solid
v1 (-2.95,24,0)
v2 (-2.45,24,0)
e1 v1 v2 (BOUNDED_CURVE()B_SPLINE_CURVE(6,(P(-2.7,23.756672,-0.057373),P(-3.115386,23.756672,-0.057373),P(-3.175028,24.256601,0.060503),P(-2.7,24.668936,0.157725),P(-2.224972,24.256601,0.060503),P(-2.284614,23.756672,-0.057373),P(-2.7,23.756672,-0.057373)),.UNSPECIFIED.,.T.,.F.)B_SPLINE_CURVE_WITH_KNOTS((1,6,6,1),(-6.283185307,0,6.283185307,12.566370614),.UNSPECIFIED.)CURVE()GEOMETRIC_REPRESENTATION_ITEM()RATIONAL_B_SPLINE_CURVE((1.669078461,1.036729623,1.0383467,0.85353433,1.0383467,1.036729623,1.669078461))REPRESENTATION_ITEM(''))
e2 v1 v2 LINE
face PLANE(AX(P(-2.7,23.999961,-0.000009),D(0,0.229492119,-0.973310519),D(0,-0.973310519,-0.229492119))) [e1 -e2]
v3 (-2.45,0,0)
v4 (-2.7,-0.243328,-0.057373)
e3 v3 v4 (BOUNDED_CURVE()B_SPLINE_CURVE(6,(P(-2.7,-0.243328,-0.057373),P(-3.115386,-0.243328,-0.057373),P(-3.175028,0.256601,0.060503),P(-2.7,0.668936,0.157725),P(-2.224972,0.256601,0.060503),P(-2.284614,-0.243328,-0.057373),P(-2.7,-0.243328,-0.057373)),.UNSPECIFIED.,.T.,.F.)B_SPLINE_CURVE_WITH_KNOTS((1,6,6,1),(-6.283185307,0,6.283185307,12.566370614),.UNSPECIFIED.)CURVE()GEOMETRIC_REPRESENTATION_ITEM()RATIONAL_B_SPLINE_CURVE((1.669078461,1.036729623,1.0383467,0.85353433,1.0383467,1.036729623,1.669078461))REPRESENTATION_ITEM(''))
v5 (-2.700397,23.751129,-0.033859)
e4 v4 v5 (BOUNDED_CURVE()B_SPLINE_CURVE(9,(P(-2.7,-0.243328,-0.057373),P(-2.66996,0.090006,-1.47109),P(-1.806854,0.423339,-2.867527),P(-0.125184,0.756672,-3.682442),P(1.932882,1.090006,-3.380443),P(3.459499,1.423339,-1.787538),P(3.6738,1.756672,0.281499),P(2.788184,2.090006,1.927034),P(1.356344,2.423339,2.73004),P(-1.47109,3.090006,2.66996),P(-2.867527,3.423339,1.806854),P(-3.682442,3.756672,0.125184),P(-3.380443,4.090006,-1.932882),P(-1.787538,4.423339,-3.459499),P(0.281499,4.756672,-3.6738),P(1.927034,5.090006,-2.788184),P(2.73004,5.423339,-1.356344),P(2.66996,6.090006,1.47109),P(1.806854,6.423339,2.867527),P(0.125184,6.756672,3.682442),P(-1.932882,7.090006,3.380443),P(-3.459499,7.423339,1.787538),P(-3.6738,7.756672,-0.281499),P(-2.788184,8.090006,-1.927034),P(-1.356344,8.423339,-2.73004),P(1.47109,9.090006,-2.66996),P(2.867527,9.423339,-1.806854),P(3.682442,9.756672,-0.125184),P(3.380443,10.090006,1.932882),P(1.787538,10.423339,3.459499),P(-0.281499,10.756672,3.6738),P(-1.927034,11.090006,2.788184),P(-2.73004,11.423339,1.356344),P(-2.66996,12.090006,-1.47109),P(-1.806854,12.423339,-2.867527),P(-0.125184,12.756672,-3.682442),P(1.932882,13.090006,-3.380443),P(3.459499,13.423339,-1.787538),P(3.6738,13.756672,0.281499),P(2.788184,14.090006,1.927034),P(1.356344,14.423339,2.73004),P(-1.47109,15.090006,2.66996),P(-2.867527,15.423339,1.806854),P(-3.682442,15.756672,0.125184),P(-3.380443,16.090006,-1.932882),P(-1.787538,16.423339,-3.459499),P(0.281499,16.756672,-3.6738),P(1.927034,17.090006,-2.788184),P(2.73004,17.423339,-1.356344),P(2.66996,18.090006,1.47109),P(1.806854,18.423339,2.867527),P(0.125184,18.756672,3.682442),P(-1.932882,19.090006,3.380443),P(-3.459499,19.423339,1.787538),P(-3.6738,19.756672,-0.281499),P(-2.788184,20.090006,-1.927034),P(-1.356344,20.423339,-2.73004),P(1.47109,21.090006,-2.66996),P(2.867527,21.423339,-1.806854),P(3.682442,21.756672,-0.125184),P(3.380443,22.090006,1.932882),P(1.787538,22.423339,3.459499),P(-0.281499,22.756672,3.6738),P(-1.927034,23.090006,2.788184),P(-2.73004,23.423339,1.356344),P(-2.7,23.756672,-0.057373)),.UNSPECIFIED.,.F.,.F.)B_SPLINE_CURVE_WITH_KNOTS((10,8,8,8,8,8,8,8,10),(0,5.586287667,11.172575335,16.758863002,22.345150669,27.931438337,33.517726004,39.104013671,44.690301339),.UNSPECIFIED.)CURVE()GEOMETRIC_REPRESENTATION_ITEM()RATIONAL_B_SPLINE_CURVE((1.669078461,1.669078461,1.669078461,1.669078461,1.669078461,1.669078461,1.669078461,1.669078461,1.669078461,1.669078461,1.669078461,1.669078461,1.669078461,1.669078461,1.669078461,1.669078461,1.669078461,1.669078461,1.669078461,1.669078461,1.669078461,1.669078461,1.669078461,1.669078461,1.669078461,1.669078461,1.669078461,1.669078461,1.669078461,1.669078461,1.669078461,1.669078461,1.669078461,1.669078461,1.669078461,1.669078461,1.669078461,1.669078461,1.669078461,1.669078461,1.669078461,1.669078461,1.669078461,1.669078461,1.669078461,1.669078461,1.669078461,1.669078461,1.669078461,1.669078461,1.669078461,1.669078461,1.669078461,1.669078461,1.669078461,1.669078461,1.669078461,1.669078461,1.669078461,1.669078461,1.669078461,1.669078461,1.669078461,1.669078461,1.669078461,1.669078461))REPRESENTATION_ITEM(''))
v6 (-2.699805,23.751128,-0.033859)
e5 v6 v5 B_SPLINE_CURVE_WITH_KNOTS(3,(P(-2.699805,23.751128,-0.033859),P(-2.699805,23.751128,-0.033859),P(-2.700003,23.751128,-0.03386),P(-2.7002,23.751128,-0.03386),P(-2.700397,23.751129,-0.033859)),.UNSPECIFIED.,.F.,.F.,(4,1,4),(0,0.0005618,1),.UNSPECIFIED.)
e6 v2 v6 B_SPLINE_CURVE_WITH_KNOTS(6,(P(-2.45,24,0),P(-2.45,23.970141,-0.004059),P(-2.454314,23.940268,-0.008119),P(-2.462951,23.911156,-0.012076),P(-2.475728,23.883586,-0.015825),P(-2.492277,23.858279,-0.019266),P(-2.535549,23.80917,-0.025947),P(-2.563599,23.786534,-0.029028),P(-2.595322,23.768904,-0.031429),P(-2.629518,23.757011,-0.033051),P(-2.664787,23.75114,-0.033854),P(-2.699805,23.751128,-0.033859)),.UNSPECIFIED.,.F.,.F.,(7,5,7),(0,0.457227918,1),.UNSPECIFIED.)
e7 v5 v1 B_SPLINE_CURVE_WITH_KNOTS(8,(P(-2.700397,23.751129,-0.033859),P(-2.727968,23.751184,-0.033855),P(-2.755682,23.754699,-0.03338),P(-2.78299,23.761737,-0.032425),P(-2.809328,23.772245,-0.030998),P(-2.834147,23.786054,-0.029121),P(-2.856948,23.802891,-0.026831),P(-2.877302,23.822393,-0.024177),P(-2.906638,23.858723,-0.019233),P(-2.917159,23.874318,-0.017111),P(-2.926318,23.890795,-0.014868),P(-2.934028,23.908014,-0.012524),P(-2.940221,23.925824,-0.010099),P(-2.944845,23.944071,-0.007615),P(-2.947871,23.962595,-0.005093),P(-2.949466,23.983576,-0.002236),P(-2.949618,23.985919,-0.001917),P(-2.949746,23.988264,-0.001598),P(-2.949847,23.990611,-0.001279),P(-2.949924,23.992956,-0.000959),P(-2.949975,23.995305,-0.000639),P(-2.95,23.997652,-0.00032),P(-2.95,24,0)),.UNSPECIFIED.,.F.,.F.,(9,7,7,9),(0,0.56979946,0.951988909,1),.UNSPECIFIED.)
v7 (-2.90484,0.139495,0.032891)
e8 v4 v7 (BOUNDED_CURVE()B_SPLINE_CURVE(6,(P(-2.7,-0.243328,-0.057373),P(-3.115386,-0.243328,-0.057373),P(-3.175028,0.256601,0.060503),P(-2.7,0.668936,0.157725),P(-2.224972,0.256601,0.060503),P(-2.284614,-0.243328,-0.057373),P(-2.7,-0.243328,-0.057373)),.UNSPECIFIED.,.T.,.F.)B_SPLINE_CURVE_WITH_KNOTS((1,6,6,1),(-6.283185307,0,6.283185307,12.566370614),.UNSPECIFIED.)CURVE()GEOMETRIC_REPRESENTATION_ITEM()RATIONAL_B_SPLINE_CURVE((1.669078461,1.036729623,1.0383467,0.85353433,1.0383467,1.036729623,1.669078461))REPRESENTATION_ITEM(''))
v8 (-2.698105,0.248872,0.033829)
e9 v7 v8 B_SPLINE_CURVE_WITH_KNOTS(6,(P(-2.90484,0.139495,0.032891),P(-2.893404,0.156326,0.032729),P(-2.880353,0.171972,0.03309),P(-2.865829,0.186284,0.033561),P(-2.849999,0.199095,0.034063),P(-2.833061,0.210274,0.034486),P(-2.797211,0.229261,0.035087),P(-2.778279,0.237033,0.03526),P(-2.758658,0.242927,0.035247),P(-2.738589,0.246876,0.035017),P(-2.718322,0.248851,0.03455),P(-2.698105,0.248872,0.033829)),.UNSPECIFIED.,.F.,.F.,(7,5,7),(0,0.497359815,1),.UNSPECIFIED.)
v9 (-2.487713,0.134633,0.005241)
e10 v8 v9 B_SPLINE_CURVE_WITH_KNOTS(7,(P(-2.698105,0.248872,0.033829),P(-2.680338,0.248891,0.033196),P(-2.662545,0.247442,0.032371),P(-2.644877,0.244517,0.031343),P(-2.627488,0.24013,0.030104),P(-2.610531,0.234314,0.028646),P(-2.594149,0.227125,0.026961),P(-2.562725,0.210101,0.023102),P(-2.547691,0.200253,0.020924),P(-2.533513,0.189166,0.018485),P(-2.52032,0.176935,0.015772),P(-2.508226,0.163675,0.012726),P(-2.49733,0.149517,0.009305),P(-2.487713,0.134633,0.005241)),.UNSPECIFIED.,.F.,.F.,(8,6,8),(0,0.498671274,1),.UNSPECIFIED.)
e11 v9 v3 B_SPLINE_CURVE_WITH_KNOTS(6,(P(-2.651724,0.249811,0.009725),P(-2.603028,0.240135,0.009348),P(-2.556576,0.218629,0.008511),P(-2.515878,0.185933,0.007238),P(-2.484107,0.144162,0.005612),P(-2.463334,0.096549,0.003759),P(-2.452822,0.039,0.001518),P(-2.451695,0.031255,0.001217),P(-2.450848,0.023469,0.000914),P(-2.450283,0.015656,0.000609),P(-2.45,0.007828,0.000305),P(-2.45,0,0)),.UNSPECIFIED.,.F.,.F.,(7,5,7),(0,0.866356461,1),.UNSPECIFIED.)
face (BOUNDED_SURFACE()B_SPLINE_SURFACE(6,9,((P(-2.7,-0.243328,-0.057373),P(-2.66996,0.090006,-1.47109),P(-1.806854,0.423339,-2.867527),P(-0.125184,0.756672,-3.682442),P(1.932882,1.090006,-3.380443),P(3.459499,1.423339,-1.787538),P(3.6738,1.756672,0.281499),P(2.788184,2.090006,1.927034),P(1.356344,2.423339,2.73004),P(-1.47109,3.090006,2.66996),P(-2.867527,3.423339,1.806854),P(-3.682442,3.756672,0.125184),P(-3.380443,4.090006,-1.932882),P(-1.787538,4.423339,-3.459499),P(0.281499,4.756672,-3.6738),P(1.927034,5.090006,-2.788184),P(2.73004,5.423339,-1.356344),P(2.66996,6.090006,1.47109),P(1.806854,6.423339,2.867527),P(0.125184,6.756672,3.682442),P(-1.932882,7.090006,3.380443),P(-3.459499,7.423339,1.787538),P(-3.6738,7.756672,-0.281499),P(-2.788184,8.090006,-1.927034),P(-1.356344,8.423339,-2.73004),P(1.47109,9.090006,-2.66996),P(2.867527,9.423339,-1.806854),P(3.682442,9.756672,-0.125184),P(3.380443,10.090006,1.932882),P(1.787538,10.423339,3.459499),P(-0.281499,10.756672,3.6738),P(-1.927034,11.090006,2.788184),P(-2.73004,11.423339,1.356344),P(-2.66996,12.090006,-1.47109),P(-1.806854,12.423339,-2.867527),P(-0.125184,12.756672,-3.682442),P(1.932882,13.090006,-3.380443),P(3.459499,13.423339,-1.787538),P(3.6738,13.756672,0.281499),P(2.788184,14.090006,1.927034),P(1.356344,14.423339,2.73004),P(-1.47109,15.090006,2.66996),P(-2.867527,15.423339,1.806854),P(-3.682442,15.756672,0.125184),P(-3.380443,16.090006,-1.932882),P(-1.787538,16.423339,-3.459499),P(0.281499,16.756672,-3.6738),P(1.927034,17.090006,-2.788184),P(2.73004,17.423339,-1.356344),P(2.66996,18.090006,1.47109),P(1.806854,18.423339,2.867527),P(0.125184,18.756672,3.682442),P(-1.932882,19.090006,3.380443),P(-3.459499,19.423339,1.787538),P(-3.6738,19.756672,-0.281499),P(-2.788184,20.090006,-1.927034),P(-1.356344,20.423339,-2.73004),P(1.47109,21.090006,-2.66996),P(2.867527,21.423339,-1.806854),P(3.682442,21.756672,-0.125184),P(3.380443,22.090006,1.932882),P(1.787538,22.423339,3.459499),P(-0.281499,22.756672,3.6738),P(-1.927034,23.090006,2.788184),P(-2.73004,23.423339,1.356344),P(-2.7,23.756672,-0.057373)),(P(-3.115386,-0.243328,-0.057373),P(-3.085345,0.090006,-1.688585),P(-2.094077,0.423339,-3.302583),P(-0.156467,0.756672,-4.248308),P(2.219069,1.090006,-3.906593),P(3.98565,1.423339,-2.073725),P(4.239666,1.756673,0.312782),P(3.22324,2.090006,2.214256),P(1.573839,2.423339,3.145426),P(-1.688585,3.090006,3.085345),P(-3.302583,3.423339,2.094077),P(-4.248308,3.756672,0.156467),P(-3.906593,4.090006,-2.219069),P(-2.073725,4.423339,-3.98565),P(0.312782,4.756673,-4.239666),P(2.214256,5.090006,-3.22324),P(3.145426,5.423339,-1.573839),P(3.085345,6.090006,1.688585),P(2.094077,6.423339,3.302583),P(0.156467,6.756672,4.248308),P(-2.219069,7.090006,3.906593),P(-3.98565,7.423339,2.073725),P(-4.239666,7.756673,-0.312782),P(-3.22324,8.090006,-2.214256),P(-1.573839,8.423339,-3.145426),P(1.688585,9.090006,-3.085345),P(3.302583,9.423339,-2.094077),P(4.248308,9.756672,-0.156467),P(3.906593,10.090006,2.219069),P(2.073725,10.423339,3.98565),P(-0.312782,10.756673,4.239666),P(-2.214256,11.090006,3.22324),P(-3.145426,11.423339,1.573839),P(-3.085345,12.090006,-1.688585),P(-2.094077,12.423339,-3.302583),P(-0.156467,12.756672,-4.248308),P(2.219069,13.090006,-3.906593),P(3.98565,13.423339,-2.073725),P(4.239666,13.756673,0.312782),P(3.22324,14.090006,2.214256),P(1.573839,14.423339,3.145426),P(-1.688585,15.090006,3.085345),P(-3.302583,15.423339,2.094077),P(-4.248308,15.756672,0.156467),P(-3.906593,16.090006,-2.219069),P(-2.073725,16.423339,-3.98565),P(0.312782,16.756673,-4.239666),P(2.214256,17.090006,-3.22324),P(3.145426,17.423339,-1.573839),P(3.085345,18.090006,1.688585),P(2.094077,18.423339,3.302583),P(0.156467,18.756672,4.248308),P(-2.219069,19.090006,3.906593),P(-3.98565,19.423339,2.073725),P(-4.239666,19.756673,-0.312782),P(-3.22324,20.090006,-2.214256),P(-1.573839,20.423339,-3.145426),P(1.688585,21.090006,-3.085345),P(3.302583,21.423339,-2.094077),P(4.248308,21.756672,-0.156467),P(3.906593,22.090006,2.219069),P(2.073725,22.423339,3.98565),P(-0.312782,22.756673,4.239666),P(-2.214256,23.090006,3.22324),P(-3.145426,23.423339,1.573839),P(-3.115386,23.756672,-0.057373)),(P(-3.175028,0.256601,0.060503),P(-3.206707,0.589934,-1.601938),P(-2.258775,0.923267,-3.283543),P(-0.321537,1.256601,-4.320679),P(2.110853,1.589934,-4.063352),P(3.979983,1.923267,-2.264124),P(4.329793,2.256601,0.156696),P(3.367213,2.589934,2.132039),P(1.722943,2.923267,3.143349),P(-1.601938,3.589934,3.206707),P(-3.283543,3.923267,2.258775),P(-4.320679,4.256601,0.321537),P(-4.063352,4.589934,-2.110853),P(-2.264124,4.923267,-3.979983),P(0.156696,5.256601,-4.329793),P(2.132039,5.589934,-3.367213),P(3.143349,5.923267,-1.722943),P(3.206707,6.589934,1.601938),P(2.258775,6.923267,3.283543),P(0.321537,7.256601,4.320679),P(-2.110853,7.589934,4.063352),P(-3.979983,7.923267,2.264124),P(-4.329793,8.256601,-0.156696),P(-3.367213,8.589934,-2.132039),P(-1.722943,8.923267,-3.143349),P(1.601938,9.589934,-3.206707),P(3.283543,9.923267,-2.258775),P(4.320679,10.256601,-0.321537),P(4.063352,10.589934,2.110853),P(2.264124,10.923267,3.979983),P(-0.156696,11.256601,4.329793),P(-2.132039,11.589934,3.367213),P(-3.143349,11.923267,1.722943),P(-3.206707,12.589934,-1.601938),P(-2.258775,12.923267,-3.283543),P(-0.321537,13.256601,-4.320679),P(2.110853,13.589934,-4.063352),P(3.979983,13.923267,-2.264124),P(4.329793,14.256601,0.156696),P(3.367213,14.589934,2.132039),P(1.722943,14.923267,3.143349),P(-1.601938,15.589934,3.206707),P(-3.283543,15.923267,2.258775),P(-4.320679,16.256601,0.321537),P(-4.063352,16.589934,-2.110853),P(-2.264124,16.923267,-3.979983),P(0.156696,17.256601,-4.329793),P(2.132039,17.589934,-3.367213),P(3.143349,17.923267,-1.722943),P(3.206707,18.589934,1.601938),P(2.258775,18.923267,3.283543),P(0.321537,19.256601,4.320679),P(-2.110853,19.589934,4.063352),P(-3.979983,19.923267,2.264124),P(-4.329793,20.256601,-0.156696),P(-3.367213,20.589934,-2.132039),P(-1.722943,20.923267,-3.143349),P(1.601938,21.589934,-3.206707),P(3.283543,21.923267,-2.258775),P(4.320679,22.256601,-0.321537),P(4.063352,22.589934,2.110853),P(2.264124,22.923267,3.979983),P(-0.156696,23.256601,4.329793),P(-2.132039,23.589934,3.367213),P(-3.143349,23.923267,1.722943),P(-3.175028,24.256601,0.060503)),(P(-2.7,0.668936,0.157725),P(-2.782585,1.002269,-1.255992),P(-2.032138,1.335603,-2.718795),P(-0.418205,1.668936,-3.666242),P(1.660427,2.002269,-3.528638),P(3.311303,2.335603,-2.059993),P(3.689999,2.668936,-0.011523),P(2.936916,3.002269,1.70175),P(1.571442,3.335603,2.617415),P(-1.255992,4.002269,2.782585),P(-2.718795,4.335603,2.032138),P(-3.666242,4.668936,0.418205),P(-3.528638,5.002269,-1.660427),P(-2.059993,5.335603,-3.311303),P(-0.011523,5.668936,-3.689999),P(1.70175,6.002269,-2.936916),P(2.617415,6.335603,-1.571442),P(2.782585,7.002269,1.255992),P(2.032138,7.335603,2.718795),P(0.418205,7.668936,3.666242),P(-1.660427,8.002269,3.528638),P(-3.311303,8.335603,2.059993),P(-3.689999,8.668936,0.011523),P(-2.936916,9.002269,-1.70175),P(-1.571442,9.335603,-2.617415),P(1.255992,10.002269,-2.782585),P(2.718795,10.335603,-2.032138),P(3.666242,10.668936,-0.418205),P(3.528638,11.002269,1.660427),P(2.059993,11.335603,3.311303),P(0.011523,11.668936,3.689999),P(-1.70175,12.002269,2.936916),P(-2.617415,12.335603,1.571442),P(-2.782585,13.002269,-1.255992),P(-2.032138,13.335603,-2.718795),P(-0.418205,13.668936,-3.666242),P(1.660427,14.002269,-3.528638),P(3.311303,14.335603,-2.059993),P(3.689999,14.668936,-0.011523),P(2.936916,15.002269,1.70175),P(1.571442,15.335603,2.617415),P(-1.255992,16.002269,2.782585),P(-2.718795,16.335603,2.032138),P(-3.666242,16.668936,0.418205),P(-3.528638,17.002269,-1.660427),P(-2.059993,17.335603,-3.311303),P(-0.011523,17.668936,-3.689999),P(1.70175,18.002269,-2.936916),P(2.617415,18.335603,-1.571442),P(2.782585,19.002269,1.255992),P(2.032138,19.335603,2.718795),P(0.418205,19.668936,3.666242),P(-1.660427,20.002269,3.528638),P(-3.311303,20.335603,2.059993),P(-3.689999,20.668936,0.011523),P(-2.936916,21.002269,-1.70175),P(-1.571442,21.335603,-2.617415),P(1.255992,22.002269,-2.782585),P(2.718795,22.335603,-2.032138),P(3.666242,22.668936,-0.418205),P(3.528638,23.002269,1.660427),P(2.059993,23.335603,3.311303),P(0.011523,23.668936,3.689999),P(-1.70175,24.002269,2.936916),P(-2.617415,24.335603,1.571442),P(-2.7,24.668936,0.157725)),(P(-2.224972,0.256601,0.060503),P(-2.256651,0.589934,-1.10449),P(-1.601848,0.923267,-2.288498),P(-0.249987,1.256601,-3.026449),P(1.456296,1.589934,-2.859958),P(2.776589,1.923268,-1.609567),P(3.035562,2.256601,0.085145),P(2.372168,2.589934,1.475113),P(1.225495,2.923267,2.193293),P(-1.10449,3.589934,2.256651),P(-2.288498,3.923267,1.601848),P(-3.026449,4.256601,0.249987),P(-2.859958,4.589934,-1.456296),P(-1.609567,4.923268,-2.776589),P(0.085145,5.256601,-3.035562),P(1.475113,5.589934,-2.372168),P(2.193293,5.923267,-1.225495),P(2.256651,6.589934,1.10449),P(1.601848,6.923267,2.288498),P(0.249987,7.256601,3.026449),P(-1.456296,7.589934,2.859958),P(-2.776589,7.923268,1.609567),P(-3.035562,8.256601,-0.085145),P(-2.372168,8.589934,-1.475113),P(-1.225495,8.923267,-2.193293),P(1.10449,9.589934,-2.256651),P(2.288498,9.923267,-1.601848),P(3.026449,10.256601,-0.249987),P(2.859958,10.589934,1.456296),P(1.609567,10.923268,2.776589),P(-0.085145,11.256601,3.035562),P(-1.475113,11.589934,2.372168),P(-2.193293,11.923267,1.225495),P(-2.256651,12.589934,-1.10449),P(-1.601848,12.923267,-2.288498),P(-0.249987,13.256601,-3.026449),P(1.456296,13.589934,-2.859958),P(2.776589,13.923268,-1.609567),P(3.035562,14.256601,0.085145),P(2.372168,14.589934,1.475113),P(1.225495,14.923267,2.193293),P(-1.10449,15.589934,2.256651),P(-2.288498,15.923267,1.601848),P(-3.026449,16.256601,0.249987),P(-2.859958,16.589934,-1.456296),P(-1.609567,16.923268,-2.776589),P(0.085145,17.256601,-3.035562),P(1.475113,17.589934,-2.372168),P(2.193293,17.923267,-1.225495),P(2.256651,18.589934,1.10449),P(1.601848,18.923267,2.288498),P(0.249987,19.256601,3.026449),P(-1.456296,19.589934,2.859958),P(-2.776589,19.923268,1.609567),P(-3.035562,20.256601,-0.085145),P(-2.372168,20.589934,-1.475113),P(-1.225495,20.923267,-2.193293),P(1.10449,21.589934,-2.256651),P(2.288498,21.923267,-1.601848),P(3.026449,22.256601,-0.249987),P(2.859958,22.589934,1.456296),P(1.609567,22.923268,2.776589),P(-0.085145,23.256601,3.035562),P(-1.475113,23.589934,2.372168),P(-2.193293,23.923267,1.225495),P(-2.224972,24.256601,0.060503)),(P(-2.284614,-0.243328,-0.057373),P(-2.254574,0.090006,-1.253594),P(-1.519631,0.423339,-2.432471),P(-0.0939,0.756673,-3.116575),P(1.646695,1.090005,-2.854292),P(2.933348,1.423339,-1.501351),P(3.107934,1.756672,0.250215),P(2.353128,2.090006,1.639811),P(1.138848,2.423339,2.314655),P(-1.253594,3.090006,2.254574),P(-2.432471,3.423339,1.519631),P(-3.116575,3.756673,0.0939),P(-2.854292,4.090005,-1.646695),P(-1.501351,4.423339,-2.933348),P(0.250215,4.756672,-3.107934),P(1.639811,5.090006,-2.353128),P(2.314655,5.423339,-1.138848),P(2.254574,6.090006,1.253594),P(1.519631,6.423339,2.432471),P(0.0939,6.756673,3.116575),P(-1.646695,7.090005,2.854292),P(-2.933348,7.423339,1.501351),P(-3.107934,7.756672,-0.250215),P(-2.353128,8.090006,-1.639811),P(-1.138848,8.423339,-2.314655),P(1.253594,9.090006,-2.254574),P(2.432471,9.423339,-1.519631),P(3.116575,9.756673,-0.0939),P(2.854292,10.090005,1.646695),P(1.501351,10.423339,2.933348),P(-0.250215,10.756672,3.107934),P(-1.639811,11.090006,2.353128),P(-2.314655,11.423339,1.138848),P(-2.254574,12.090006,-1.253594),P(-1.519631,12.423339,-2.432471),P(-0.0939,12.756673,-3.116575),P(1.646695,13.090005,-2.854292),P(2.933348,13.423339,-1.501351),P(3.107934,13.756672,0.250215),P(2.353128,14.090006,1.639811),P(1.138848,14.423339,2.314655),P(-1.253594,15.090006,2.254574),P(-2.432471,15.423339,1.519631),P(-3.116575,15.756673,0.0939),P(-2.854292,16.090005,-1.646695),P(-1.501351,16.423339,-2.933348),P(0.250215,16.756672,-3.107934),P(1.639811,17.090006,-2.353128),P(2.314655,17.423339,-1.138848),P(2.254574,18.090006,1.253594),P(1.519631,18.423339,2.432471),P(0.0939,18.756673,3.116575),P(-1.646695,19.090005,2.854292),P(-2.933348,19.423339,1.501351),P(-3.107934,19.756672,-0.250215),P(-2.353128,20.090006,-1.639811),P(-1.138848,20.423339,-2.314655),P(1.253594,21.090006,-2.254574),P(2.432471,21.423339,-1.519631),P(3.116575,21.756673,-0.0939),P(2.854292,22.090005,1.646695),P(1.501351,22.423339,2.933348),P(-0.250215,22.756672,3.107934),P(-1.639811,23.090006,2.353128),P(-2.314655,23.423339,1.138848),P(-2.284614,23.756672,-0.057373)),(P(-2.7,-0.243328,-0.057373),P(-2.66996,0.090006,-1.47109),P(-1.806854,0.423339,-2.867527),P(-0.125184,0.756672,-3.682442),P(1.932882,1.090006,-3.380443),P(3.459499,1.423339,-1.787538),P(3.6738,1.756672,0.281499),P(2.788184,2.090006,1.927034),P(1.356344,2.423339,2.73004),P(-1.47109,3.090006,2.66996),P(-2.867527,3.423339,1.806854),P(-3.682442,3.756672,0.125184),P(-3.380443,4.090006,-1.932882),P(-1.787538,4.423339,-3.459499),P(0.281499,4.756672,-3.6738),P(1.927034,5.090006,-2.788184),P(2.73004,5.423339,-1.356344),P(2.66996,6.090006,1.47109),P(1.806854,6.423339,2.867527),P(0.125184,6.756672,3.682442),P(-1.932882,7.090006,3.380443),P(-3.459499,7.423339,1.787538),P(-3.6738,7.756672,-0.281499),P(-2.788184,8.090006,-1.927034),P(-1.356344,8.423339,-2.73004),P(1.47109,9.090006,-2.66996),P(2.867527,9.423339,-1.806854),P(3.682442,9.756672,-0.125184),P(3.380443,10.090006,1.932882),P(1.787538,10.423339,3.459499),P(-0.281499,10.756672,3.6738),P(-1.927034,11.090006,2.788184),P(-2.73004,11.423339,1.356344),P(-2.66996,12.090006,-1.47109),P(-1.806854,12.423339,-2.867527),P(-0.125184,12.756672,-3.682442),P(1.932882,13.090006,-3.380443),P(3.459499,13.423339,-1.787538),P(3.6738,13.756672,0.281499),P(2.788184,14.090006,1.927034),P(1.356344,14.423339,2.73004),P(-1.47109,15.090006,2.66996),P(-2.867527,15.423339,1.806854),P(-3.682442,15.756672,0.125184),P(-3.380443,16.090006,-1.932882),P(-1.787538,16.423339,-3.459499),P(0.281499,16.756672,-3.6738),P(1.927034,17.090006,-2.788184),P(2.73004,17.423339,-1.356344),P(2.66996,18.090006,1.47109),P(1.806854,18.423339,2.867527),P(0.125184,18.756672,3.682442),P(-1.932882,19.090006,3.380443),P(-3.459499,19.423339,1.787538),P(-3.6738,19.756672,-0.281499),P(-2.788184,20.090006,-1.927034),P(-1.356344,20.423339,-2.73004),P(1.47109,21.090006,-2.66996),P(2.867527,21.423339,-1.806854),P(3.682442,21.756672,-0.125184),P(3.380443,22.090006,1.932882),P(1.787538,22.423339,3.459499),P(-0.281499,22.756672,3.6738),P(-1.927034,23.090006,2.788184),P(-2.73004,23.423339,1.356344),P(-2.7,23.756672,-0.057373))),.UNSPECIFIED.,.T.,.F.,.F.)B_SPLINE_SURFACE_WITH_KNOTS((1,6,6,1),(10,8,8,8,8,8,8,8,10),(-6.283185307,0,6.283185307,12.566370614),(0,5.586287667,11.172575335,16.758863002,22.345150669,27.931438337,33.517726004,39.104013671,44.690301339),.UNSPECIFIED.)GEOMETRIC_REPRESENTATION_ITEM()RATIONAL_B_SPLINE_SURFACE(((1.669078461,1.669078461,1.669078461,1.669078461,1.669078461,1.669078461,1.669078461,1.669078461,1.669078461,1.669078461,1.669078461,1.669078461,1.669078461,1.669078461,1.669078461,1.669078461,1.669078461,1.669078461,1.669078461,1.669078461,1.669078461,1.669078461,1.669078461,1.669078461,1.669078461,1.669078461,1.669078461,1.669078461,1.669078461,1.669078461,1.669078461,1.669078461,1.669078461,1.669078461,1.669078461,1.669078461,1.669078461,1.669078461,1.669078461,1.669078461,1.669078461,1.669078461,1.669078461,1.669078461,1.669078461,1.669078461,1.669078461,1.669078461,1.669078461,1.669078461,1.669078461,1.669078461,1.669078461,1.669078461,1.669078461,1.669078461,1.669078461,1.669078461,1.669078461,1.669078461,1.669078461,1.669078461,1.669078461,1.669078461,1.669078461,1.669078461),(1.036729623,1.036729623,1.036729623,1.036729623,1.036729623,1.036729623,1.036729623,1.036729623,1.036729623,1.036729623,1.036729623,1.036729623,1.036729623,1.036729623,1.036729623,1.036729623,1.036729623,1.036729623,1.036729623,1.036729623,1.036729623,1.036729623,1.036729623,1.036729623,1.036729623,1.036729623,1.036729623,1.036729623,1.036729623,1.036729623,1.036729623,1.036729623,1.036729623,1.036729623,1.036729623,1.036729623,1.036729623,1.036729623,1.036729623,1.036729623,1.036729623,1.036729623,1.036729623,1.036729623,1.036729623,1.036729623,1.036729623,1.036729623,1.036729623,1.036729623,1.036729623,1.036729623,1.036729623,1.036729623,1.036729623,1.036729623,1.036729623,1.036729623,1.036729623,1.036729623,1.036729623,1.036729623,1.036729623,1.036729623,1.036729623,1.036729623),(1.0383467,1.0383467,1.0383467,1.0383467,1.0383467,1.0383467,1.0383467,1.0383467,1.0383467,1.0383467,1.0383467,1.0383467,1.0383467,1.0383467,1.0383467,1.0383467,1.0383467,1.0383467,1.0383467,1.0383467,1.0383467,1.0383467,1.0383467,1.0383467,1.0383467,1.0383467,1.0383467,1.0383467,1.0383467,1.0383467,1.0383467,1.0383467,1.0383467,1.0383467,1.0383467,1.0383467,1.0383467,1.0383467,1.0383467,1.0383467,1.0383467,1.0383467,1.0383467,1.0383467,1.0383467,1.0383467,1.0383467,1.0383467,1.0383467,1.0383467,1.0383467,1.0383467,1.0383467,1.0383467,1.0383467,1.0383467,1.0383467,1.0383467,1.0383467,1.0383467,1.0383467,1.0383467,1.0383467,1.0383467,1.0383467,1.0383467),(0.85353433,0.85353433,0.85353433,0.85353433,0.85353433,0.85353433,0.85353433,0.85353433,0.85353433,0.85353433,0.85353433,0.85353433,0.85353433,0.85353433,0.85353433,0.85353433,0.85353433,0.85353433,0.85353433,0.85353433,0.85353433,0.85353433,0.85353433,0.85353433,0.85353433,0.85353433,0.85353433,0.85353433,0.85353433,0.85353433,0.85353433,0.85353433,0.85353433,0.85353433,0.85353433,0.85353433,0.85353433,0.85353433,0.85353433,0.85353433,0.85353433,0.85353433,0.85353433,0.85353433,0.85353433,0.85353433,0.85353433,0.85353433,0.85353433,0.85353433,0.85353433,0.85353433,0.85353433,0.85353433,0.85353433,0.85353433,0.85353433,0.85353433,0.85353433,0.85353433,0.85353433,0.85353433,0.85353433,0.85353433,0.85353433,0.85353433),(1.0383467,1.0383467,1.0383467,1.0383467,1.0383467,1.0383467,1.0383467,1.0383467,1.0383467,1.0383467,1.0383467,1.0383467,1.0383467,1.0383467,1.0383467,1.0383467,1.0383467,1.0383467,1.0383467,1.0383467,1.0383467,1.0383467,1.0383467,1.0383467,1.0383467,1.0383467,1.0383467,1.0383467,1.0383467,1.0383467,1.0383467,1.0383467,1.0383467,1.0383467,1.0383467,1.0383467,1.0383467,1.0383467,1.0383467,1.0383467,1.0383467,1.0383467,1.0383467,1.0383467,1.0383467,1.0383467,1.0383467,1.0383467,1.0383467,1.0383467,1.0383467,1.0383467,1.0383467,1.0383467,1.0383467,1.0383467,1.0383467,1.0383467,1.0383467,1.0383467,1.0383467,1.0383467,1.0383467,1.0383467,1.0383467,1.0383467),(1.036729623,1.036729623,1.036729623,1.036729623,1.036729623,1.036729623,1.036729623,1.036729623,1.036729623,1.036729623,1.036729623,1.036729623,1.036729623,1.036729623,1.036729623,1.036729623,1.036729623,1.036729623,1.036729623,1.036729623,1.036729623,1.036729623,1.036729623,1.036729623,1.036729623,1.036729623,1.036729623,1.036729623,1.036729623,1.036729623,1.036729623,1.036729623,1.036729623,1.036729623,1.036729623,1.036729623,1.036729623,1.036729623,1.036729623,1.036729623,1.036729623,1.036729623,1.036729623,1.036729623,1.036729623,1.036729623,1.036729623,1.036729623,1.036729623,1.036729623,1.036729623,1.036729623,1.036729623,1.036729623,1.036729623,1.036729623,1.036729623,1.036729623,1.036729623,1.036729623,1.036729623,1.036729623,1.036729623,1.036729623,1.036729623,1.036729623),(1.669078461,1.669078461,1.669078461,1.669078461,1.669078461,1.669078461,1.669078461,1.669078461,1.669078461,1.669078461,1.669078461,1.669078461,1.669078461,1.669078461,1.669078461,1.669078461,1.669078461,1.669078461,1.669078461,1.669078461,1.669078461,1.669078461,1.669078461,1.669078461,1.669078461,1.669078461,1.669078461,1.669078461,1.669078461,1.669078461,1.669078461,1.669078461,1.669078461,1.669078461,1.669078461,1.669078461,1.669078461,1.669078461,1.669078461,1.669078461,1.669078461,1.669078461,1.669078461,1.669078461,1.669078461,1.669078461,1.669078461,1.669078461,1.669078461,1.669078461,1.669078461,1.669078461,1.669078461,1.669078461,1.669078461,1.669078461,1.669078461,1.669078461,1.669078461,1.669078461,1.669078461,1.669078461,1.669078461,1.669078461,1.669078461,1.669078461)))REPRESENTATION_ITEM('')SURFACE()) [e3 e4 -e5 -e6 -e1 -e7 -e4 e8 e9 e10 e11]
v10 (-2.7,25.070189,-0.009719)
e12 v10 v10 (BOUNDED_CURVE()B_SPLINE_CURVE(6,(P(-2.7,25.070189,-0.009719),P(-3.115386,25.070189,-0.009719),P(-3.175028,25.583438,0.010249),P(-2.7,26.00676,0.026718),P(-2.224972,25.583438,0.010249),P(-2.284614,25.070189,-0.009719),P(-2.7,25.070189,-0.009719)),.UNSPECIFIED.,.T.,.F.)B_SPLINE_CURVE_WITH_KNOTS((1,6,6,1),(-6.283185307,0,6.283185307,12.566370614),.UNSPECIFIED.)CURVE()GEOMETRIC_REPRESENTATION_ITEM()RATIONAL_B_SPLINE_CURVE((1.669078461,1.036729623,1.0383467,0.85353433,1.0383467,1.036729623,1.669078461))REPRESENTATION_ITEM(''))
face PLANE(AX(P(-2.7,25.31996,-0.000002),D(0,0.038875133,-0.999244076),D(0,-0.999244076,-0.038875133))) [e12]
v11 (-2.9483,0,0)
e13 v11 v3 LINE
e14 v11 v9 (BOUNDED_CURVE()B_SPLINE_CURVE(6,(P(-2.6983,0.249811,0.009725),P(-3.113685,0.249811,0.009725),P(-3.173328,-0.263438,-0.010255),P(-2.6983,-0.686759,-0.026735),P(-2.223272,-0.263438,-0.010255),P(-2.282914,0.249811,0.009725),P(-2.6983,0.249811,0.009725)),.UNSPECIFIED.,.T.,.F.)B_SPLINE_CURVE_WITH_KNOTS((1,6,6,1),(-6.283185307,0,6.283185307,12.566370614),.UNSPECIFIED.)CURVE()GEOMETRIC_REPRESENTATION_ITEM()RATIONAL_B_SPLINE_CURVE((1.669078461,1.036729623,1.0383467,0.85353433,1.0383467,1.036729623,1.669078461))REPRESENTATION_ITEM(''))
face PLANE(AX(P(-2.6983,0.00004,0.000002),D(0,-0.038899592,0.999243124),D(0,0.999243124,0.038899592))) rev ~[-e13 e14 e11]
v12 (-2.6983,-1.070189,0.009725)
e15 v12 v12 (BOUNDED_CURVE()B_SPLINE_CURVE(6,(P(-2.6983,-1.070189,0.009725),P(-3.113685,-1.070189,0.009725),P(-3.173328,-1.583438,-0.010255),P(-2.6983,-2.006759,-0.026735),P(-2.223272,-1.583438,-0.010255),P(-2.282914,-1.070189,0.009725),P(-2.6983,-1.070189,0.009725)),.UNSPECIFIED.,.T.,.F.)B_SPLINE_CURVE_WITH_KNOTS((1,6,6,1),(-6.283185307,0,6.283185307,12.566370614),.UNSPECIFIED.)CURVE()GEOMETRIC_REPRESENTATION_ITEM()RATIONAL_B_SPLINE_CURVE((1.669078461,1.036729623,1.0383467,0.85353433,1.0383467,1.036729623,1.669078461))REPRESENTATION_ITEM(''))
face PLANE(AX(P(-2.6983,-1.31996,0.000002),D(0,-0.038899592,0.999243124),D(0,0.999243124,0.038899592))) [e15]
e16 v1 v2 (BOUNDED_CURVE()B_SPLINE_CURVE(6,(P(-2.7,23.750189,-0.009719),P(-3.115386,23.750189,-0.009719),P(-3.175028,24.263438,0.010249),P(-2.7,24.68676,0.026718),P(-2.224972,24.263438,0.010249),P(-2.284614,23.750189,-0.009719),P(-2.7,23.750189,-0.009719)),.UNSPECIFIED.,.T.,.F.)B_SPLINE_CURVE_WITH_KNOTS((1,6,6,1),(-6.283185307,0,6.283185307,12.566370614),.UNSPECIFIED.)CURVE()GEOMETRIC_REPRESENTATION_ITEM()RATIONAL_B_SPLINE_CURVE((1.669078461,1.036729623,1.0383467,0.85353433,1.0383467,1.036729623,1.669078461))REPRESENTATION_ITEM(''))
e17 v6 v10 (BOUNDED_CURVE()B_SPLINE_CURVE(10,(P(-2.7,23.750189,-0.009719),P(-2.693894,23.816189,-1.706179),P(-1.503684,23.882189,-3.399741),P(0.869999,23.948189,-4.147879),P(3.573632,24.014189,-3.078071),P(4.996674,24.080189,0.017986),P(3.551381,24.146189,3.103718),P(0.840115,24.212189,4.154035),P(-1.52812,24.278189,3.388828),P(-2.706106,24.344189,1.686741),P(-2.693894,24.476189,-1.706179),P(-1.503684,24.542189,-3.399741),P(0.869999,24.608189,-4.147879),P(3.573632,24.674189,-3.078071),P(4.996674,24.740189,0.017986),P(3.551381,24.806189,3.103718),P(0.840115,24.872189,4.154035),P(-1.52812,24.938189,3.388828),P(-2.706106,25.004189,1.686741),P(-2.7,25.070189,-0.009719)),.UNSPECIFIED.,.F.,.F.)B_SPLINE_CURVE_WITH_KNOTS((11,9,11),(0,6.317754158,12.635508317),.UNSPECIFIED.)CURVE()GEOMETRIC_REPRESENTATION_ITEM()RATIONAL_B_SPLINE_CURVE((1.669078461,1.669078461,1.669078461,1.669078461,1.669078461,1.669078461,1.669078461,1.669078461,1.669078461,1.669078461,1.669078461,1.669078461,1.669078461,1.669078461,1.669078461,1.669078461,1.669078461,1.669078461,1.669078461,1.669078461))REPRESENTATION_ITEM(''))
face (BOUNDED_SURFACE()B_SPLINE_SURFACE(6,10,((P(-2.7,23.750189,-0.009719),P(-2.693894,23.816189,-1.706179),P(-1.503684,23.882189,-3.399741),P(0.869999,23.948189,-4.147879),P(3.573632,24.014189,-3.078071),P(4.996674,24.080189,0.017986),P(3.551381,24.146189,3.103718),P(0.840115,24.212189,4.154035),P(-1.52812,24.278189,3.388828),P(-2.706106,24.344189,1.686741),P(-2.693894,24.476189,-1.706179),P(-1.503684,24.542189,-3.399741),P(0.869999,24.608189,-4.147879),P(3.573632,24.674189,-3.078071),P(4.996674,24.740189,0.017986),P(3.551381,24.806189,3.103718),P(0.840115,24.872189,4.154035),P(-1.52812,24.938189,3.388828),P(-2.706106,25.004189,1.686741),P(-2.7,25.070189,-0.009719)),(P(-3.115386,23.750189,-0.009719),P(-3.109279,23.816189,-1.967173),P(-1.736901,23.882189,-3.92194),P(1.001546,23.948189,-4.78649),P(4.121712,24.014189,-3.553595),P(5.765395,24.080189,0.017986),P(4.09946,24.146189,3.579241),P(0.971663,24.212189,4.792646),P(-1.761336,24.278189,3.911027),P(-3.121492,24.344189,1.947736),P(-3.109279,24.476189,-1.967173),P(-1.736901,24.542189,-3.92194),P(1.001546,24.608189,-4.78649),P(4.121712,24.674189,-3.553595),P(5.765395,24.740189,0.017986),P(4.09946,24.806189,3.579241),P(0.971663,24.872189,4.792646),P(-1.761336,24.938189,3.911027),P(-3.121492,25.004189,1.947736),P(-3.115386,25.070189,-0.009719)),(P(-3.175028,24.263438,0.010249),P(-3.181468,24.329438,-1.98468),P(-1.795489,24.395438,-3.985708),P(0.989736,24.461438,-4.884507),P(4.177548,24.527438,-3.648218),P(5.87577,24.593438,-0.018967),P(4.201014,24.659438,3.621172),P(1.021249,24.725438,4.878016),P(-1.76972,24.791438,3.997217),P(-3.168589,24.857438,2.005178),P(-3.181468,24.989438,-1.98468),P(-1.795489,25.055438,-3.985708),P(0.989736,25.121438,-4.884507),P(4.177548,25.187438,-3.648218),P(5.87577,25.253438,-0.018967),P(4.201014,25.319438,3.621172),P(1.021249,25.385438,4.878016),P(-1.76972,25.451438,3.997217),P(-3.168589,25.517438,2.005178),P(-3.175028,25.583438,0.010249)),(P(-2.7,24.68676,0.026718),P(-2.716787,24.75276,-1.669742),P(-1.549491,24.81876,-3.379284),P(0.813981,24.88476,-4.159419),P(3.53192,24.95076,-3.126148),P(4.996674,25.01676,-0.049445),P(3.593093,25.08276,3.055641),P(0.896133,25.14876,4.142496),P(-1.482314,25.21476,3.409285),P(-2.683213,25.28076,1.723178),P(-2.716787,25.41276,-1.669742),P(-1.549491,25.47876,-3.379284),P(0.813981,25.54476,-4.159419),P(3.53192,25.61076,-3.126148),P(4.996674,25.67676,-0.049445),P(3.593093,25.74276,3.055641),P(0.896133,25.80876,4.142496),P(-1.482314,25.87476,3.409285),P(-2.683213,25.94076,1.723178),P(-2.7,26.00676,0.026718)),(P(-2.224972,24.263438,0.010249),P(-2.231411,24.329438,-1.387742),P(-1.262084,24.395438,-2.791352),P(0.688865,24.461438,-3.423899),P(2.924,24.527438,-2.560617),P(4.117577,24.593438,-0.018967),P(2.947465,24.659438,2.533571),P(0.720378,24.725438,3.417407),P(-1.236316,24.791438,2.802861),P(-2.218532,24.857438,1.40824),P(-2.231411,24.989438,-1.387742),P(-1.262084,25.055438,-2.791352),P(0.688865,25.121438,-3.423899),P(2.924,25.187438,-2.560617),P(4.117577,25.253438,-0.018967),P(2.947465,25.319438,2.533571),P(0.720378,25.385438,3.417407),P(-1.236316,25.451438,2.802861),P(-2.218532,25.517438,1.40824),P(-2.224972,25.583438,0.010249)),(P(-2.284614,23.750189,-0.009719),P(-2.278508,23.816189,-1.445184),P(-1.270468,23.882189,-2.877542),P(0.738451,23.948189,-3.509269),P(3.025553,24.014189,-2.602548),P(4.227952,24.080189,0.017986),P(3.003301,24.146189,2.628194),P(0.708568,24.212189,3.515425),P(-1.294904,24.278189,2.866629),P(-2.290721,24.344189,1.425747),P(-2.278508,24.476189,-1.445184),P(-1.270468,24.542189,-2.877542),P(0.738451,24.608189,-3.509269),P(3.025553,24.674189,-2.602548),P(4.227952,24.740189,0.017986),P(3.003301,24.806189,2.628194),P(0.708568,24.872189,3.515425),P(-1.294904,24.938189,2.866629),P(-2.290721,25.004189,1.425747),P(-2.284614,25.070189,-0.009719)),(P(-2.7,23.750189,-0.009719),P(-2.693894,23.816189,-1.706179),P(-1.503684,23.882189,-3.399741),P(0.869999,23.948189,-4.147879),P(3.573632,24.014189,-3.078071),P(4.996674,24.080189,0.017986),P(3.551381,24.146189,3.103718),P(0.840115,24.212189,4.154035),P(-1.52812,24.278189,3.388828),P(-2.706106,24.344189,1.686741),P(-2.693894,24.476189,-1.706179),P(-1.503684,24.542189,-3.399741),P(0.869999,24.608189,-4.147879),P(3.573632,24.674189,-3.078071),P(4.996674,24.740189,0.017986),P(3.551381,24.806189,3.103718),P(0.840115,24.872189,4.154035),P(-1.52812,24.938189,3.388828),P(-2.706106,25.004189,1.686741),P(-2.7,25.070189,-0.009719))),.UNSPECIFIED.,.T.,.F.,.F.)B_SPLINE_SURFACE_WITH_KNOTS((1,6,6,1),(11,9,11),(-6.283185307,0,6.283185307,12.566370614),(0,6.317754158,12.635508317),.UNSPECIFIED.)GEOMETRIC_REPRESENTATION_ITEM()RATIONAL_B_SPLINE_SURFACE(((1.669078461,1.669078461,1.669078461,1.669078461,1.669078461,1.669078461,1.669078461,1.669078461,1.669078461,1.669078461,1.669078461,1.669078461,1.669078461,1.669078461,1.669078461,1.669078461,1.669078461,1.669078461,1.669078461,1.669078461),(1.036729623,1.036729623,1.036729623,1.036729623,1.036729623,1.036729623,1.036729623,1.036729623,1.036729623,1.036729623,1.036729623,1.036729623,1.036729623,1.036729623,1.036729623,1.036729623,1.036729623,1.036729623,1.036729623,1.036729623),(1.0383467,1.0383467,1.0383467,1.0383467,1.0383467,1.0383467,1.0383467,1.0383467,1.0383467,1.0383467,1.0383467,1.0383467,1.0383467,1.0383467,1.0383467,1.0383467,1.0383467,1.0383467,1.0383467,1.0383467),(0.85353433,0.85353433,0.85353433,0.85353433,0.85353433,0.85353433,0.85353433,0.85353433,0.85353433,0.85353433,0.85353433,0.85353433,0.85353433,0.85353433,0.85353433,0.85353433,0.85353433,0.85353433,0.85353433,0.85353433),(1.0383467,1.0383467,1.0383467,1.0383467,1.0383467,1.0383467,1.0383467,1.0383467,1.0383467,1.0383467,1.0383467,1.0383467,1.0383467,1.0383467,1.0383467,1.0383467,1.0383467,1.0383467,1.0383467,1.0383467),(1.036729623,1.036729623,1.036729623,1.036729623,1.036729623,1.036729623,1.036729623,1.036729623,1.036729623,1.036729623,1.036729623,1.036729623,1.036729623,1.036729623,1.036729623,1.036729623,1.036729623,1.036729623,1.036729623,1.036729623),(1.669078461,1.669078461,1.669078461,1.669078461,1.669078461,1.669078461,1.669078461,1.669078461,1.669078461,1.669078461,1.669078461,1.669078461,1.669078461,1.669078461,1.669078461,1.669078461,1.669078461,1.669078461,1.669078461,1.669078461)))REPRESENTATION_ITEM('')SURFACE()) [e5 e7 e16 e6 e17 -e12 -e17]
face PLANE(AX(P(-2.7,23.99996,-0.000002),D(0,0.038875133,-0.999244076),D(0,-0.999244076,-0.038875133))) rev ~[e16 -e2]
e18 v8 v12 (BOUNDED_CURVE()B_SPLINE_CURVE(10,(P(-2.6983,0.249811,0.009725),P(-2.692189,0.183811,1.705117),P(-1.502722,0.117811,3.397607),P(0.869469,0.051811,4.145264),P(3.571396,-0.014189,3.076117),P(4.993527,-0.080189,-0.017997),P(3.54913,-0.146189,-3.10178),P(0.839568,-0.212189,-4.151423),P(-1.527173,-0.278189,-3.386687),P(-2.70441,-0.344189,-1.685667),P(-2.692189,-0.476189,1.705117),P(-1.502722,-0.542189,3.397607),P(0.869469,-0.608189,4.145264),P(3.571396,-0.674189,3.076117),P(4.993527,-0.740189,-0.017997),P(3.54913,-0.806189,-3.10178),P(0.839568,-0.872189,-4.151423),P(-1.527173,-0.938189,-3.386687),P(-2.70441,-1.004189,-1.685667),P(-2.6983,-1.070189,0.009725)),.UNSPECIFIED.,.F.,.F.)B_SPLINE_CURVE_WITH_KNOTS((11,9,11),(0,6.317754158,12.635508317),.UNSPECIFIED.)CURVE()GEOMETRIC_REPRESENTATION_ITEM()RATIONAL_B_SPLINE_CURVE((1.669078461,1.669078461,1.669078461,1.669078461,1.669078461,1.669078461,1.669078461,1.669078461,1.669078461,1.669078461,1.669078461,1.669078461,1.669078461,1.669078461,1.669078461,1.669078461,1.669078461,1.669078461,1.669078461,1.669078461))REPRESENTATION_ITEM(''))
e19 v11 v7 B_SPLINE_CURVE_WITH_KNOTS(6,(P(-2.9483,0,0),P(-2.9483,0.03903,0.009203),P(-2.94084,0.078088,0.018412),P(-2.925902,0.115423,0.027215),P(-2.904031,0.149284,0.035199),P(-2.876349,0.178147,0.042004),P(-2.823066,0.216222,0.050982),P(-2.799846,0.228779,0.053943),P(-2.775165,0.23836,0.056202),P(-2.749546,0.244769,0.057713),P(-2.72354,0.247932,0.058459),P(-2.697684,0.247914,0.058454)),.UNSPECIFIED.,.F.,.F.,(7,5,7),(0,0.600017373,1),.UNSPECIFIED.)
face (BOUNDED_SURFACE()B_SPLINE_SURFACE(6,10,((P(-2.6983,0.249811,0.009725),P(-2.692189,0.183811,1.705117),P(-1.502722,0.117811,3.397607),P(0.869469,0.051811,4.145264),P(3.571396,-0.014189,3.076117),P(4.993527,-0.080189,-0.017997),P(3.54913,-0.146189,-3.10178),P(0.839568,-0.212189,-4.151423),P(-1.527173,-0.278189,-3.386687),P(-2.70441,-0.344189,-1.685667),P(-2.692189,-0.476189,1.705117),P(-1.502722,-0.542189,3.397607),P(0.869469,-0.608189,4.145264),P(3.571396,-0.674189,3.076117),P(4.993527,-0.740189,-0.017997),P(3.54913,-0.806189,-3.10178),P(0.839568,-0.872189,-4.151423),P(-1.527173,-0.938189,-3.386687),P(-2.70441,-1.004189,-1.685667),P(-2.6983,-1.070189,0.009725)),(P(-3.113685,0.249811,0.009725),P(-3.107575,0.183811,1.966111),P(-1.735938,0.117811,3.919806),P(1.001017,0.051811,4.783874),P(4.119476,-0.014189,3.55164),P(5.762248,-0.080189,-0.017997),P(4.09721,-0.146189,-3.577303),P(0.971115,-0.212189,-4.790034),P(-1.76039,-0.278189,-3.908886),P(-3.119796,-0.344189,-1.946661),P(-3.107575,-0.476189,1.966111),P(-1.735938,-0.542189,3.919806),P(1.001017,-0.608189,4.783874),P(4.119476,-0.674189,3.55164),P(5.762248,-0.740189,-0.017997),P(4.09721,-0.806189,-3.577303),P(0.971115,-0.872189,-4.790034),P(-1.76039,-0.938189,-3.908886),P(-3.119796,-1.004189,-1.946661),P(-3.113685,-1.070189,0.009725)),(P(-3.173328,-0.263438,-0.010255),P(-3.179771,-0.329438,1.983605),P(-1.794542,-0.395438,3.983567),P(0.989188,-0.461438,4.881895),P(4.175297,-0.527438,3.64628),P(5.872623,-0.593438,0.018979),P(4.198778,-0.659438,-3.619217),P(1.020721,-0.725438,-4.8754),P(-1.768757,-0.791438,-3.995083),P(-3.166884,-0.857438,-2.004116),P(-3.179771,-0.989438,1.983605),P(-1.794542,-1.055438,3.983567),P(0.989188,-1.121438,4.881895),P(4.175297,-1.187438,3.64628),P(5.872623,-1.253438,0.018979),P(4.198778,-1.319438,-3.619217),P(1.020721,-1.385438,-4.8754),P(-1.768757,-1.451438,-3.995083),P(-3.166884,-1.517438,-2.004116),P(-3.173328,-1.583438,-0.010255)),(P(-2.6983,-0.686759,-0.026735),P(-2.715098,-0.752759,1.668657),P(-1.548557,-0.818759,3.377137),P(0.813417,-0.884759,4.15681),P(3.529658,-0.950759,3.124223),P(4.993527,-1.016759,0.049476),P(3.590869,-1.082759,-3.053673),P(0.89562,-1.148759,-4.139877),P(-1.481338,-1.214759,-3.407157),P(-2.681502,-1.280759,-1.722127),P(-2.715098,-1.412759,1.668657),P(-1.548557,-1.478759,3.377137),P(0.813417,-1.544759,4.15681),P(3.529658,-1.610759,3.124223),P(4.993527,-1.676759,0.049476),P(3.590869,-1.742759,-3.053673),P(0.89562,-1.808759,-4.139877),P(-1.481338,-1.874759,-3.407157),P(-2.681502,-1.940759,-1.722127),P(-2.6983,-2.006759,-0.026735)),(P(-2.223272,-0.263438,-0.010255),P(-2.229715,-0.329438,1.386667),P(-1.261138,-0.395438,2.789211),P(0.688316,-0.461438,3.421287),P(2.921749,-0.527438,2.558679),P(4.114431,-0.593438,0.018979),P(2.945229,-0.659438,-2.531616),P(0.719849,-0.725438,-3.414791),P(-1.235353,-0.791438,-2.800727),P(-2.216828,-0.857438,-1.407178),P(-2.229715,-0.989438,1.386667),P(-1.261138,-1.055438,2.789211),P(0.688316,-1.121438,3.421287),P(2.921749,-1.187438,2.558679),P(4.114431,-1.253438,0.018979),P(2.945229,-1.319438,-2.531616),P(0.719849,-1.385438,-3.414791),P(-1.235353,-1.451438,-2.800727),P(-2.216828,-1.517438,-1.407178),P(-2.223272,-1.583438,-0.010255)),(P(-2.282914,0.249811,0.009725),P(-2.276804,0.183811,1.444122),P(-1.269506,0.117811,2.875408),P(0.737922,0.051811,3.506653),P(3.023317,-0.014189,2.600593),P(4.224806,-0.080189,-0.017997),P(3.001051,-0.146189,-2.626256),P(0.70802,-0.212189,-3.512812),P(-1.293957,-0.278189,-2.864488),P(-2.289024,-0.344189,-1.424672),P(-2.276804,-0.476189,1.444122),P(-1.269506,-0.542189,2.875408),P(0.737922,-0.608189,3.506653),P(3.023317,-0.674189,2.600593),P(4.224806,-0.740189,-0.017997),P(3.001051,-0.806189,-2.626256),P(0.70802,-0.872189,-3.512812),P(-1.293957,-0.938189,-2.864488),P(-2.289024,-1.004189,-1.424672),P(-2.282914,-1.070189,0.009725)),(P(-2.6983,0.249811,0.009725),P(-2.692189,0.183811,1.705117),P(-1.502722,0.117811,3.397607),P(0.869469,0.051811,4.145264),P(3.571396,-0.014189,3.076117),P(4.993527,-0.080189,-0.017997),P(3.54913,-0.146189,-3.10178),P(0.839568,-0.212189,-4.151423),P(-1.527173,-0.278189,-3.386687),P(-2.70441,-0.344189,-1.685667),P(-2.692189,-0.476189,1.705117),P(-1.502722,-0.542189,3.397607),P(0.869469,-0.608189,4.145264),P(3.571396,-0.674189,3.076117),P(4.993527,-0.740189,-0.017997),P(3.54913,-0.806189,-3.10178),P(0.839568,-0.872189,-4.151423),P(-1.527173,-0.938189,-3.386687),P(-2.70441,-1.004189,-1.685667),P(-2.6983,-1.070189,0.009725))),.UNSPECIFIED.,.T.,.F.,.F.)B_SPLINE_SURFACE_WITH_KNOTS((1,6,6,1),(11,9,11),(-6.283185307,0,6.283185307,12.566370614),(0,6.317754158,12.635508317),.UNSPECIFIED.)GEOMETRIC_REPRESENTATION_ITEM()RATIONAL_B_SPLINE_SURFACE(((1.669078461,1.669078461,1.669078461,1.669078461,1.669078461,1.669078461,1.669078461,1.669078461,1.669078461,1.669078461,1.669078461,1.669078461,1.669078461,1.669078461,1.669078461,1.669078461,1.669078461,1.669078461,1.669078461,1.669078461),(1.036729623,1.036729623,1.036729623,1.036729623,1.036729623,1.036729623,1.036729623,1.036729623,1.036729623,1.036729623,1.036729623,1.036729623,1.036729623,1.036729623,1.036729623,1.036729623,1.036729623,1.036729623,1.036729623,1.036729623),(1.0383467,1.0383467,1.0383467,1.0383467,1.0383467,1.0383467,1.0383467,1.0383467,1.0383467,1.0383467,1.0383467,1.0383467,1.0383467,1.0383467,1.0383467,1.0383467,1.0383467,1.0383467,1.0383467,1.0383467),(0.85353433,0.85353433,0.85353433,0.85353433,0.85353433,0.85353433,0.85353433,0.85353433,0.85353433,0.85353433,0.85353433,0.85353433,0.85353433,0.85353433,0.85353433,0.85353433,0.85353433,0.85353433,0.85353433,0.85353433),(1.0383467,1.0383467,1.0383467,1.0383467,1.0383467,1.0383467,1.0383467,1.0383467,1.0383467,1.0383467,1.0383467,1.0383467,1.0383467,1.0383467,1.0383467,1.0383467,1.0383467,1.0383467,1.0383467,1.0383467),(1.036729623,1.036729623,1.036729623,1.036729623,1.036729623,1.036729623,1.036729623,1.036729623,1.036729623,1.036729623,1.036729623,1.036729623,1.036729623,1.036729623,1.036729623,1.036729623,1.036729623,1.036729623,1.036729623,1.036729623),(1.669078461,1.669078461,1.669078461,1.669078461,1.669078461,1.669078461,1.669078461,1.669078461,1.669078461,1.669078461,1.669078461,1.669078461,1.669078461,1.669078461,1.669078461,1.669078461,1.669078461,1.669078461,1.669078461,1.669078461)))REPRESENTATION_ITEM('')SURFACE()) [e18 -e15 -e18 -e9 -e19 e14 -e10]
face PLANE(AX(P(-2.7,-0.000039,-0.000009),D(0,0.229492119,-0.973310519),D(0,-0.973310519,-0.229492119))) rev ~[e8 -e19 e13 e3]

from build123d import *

# Parameters (mm, degrees)
SWEEP1_PITCH       = 0.66
SWEEP1_HEIGHT      = 1.32
SWEEP1_RADIUS      = 2.7
SWEEP1_START_ANGLE = -90
SWEEP1_PROFILE_R   = 0.25
SWEEP2_PITCH       = 4
SWEEP2_HEIGHT      = 24
SWEEP2_RADIUS      = 2.7
SWEEP2_START_ANGLE = -90
SWEEP2_PROFILE_R   = 0.25
SWEEP3_PITCH       = 0.66
SWEEP3_HEIGHT      = 1.32
SWEEP3_RADIUS      = 2.698299711
SWEEP3_START_ANGLE = -90
SWEEP3_PROFILE_R   = 0.25


with BuildPart() as part:
    # Sweep1: sweep along a helix
    with BuildLine() as sweep1_path:
        add(Helix(SWEEP1_PITCH, SWEEP1_HEIGHT, SWEEP1_RADIUS, center=(0, 24, 0), direction=(0, 1, 0), lefthand=True, mode=Mode.PRIVATE).rotate(Axis((0, 24, 0), (0, 1, 0)), SWEEP1_START_ANGLE))
    # Sweep1 profile (on start of the path) → Sweep1 (sweep)
    with BuildSketch(Plane(origin=(-2.7, 24, 0), x_dir=(0, -0.9992440763153999, -0.038875132778979866), z_dir=(1.108448112333572e-13, 0.038875132778979866, -0.9992440763153999))):
        Circle(SWEEP1_PROFILE_R)
    sweep(path=sweep1_path.line, is_frenet=True)

    # Sweep2: sweep along a helix
    with BuildLine() as sweep2_path:
        add(Helix(SWEEP2_PITCH, SWEEP2_HEIGHT, SWEEP2_RADIUS, center=(0, 0, 0), direction=(0, 1, 0), lefthand=True, mode=Mode.PRIVATE).rotate(Axis((0, 0, 0), (0, 1, 0)), SWEEP2_START_ANGLE))
    # Sweep2 profile (on start of the path) → Sweep2 (sweep)
    with BuildSketch(Plane(origin=(-2.7, 0, 0), x_dir=(0, -0.9733105194690093, -0.2294921190171191), z_dir=(-2.7327419733729754e-13, 0.2294921190171191, -0.9733105194690093))):
        Circle(SWEEP2_PROFILE_R)
    sweep(path=sweep2_path.line, is_frenet=True)

    # Sweep3: sweep along a helix
    with BuildLine() as sweep3_path:
        add(Helix(SWEEP3_PITCH, SWEEP3_HEIGHT, SWEEP3_RADIUS, center=(0, 0, 0), direction=(0, -1, 0), lefthand=True, mode=Mode.PRIVATE).rotate(Axis((0, 0, 0), (0, -1, 0)), SWEEP3_START_ANGLE))
    # Sweep3 profile (on start of the path) → Sweep3 (sweep)
    with BuildSketch(Plane(origin=(-2.698299711, 0, 0), x_dir=(0, 0.9992431244311905, 0.03889959224712199), z_dir=(-3.254250427122736e-13, -0.03889959224712199, 0.9992431244311905))):
        Circle(SWEEP3_PROFILE_R)
    sweep(path=sweep3_path.line, is_frenet=True)


solid = part.part
